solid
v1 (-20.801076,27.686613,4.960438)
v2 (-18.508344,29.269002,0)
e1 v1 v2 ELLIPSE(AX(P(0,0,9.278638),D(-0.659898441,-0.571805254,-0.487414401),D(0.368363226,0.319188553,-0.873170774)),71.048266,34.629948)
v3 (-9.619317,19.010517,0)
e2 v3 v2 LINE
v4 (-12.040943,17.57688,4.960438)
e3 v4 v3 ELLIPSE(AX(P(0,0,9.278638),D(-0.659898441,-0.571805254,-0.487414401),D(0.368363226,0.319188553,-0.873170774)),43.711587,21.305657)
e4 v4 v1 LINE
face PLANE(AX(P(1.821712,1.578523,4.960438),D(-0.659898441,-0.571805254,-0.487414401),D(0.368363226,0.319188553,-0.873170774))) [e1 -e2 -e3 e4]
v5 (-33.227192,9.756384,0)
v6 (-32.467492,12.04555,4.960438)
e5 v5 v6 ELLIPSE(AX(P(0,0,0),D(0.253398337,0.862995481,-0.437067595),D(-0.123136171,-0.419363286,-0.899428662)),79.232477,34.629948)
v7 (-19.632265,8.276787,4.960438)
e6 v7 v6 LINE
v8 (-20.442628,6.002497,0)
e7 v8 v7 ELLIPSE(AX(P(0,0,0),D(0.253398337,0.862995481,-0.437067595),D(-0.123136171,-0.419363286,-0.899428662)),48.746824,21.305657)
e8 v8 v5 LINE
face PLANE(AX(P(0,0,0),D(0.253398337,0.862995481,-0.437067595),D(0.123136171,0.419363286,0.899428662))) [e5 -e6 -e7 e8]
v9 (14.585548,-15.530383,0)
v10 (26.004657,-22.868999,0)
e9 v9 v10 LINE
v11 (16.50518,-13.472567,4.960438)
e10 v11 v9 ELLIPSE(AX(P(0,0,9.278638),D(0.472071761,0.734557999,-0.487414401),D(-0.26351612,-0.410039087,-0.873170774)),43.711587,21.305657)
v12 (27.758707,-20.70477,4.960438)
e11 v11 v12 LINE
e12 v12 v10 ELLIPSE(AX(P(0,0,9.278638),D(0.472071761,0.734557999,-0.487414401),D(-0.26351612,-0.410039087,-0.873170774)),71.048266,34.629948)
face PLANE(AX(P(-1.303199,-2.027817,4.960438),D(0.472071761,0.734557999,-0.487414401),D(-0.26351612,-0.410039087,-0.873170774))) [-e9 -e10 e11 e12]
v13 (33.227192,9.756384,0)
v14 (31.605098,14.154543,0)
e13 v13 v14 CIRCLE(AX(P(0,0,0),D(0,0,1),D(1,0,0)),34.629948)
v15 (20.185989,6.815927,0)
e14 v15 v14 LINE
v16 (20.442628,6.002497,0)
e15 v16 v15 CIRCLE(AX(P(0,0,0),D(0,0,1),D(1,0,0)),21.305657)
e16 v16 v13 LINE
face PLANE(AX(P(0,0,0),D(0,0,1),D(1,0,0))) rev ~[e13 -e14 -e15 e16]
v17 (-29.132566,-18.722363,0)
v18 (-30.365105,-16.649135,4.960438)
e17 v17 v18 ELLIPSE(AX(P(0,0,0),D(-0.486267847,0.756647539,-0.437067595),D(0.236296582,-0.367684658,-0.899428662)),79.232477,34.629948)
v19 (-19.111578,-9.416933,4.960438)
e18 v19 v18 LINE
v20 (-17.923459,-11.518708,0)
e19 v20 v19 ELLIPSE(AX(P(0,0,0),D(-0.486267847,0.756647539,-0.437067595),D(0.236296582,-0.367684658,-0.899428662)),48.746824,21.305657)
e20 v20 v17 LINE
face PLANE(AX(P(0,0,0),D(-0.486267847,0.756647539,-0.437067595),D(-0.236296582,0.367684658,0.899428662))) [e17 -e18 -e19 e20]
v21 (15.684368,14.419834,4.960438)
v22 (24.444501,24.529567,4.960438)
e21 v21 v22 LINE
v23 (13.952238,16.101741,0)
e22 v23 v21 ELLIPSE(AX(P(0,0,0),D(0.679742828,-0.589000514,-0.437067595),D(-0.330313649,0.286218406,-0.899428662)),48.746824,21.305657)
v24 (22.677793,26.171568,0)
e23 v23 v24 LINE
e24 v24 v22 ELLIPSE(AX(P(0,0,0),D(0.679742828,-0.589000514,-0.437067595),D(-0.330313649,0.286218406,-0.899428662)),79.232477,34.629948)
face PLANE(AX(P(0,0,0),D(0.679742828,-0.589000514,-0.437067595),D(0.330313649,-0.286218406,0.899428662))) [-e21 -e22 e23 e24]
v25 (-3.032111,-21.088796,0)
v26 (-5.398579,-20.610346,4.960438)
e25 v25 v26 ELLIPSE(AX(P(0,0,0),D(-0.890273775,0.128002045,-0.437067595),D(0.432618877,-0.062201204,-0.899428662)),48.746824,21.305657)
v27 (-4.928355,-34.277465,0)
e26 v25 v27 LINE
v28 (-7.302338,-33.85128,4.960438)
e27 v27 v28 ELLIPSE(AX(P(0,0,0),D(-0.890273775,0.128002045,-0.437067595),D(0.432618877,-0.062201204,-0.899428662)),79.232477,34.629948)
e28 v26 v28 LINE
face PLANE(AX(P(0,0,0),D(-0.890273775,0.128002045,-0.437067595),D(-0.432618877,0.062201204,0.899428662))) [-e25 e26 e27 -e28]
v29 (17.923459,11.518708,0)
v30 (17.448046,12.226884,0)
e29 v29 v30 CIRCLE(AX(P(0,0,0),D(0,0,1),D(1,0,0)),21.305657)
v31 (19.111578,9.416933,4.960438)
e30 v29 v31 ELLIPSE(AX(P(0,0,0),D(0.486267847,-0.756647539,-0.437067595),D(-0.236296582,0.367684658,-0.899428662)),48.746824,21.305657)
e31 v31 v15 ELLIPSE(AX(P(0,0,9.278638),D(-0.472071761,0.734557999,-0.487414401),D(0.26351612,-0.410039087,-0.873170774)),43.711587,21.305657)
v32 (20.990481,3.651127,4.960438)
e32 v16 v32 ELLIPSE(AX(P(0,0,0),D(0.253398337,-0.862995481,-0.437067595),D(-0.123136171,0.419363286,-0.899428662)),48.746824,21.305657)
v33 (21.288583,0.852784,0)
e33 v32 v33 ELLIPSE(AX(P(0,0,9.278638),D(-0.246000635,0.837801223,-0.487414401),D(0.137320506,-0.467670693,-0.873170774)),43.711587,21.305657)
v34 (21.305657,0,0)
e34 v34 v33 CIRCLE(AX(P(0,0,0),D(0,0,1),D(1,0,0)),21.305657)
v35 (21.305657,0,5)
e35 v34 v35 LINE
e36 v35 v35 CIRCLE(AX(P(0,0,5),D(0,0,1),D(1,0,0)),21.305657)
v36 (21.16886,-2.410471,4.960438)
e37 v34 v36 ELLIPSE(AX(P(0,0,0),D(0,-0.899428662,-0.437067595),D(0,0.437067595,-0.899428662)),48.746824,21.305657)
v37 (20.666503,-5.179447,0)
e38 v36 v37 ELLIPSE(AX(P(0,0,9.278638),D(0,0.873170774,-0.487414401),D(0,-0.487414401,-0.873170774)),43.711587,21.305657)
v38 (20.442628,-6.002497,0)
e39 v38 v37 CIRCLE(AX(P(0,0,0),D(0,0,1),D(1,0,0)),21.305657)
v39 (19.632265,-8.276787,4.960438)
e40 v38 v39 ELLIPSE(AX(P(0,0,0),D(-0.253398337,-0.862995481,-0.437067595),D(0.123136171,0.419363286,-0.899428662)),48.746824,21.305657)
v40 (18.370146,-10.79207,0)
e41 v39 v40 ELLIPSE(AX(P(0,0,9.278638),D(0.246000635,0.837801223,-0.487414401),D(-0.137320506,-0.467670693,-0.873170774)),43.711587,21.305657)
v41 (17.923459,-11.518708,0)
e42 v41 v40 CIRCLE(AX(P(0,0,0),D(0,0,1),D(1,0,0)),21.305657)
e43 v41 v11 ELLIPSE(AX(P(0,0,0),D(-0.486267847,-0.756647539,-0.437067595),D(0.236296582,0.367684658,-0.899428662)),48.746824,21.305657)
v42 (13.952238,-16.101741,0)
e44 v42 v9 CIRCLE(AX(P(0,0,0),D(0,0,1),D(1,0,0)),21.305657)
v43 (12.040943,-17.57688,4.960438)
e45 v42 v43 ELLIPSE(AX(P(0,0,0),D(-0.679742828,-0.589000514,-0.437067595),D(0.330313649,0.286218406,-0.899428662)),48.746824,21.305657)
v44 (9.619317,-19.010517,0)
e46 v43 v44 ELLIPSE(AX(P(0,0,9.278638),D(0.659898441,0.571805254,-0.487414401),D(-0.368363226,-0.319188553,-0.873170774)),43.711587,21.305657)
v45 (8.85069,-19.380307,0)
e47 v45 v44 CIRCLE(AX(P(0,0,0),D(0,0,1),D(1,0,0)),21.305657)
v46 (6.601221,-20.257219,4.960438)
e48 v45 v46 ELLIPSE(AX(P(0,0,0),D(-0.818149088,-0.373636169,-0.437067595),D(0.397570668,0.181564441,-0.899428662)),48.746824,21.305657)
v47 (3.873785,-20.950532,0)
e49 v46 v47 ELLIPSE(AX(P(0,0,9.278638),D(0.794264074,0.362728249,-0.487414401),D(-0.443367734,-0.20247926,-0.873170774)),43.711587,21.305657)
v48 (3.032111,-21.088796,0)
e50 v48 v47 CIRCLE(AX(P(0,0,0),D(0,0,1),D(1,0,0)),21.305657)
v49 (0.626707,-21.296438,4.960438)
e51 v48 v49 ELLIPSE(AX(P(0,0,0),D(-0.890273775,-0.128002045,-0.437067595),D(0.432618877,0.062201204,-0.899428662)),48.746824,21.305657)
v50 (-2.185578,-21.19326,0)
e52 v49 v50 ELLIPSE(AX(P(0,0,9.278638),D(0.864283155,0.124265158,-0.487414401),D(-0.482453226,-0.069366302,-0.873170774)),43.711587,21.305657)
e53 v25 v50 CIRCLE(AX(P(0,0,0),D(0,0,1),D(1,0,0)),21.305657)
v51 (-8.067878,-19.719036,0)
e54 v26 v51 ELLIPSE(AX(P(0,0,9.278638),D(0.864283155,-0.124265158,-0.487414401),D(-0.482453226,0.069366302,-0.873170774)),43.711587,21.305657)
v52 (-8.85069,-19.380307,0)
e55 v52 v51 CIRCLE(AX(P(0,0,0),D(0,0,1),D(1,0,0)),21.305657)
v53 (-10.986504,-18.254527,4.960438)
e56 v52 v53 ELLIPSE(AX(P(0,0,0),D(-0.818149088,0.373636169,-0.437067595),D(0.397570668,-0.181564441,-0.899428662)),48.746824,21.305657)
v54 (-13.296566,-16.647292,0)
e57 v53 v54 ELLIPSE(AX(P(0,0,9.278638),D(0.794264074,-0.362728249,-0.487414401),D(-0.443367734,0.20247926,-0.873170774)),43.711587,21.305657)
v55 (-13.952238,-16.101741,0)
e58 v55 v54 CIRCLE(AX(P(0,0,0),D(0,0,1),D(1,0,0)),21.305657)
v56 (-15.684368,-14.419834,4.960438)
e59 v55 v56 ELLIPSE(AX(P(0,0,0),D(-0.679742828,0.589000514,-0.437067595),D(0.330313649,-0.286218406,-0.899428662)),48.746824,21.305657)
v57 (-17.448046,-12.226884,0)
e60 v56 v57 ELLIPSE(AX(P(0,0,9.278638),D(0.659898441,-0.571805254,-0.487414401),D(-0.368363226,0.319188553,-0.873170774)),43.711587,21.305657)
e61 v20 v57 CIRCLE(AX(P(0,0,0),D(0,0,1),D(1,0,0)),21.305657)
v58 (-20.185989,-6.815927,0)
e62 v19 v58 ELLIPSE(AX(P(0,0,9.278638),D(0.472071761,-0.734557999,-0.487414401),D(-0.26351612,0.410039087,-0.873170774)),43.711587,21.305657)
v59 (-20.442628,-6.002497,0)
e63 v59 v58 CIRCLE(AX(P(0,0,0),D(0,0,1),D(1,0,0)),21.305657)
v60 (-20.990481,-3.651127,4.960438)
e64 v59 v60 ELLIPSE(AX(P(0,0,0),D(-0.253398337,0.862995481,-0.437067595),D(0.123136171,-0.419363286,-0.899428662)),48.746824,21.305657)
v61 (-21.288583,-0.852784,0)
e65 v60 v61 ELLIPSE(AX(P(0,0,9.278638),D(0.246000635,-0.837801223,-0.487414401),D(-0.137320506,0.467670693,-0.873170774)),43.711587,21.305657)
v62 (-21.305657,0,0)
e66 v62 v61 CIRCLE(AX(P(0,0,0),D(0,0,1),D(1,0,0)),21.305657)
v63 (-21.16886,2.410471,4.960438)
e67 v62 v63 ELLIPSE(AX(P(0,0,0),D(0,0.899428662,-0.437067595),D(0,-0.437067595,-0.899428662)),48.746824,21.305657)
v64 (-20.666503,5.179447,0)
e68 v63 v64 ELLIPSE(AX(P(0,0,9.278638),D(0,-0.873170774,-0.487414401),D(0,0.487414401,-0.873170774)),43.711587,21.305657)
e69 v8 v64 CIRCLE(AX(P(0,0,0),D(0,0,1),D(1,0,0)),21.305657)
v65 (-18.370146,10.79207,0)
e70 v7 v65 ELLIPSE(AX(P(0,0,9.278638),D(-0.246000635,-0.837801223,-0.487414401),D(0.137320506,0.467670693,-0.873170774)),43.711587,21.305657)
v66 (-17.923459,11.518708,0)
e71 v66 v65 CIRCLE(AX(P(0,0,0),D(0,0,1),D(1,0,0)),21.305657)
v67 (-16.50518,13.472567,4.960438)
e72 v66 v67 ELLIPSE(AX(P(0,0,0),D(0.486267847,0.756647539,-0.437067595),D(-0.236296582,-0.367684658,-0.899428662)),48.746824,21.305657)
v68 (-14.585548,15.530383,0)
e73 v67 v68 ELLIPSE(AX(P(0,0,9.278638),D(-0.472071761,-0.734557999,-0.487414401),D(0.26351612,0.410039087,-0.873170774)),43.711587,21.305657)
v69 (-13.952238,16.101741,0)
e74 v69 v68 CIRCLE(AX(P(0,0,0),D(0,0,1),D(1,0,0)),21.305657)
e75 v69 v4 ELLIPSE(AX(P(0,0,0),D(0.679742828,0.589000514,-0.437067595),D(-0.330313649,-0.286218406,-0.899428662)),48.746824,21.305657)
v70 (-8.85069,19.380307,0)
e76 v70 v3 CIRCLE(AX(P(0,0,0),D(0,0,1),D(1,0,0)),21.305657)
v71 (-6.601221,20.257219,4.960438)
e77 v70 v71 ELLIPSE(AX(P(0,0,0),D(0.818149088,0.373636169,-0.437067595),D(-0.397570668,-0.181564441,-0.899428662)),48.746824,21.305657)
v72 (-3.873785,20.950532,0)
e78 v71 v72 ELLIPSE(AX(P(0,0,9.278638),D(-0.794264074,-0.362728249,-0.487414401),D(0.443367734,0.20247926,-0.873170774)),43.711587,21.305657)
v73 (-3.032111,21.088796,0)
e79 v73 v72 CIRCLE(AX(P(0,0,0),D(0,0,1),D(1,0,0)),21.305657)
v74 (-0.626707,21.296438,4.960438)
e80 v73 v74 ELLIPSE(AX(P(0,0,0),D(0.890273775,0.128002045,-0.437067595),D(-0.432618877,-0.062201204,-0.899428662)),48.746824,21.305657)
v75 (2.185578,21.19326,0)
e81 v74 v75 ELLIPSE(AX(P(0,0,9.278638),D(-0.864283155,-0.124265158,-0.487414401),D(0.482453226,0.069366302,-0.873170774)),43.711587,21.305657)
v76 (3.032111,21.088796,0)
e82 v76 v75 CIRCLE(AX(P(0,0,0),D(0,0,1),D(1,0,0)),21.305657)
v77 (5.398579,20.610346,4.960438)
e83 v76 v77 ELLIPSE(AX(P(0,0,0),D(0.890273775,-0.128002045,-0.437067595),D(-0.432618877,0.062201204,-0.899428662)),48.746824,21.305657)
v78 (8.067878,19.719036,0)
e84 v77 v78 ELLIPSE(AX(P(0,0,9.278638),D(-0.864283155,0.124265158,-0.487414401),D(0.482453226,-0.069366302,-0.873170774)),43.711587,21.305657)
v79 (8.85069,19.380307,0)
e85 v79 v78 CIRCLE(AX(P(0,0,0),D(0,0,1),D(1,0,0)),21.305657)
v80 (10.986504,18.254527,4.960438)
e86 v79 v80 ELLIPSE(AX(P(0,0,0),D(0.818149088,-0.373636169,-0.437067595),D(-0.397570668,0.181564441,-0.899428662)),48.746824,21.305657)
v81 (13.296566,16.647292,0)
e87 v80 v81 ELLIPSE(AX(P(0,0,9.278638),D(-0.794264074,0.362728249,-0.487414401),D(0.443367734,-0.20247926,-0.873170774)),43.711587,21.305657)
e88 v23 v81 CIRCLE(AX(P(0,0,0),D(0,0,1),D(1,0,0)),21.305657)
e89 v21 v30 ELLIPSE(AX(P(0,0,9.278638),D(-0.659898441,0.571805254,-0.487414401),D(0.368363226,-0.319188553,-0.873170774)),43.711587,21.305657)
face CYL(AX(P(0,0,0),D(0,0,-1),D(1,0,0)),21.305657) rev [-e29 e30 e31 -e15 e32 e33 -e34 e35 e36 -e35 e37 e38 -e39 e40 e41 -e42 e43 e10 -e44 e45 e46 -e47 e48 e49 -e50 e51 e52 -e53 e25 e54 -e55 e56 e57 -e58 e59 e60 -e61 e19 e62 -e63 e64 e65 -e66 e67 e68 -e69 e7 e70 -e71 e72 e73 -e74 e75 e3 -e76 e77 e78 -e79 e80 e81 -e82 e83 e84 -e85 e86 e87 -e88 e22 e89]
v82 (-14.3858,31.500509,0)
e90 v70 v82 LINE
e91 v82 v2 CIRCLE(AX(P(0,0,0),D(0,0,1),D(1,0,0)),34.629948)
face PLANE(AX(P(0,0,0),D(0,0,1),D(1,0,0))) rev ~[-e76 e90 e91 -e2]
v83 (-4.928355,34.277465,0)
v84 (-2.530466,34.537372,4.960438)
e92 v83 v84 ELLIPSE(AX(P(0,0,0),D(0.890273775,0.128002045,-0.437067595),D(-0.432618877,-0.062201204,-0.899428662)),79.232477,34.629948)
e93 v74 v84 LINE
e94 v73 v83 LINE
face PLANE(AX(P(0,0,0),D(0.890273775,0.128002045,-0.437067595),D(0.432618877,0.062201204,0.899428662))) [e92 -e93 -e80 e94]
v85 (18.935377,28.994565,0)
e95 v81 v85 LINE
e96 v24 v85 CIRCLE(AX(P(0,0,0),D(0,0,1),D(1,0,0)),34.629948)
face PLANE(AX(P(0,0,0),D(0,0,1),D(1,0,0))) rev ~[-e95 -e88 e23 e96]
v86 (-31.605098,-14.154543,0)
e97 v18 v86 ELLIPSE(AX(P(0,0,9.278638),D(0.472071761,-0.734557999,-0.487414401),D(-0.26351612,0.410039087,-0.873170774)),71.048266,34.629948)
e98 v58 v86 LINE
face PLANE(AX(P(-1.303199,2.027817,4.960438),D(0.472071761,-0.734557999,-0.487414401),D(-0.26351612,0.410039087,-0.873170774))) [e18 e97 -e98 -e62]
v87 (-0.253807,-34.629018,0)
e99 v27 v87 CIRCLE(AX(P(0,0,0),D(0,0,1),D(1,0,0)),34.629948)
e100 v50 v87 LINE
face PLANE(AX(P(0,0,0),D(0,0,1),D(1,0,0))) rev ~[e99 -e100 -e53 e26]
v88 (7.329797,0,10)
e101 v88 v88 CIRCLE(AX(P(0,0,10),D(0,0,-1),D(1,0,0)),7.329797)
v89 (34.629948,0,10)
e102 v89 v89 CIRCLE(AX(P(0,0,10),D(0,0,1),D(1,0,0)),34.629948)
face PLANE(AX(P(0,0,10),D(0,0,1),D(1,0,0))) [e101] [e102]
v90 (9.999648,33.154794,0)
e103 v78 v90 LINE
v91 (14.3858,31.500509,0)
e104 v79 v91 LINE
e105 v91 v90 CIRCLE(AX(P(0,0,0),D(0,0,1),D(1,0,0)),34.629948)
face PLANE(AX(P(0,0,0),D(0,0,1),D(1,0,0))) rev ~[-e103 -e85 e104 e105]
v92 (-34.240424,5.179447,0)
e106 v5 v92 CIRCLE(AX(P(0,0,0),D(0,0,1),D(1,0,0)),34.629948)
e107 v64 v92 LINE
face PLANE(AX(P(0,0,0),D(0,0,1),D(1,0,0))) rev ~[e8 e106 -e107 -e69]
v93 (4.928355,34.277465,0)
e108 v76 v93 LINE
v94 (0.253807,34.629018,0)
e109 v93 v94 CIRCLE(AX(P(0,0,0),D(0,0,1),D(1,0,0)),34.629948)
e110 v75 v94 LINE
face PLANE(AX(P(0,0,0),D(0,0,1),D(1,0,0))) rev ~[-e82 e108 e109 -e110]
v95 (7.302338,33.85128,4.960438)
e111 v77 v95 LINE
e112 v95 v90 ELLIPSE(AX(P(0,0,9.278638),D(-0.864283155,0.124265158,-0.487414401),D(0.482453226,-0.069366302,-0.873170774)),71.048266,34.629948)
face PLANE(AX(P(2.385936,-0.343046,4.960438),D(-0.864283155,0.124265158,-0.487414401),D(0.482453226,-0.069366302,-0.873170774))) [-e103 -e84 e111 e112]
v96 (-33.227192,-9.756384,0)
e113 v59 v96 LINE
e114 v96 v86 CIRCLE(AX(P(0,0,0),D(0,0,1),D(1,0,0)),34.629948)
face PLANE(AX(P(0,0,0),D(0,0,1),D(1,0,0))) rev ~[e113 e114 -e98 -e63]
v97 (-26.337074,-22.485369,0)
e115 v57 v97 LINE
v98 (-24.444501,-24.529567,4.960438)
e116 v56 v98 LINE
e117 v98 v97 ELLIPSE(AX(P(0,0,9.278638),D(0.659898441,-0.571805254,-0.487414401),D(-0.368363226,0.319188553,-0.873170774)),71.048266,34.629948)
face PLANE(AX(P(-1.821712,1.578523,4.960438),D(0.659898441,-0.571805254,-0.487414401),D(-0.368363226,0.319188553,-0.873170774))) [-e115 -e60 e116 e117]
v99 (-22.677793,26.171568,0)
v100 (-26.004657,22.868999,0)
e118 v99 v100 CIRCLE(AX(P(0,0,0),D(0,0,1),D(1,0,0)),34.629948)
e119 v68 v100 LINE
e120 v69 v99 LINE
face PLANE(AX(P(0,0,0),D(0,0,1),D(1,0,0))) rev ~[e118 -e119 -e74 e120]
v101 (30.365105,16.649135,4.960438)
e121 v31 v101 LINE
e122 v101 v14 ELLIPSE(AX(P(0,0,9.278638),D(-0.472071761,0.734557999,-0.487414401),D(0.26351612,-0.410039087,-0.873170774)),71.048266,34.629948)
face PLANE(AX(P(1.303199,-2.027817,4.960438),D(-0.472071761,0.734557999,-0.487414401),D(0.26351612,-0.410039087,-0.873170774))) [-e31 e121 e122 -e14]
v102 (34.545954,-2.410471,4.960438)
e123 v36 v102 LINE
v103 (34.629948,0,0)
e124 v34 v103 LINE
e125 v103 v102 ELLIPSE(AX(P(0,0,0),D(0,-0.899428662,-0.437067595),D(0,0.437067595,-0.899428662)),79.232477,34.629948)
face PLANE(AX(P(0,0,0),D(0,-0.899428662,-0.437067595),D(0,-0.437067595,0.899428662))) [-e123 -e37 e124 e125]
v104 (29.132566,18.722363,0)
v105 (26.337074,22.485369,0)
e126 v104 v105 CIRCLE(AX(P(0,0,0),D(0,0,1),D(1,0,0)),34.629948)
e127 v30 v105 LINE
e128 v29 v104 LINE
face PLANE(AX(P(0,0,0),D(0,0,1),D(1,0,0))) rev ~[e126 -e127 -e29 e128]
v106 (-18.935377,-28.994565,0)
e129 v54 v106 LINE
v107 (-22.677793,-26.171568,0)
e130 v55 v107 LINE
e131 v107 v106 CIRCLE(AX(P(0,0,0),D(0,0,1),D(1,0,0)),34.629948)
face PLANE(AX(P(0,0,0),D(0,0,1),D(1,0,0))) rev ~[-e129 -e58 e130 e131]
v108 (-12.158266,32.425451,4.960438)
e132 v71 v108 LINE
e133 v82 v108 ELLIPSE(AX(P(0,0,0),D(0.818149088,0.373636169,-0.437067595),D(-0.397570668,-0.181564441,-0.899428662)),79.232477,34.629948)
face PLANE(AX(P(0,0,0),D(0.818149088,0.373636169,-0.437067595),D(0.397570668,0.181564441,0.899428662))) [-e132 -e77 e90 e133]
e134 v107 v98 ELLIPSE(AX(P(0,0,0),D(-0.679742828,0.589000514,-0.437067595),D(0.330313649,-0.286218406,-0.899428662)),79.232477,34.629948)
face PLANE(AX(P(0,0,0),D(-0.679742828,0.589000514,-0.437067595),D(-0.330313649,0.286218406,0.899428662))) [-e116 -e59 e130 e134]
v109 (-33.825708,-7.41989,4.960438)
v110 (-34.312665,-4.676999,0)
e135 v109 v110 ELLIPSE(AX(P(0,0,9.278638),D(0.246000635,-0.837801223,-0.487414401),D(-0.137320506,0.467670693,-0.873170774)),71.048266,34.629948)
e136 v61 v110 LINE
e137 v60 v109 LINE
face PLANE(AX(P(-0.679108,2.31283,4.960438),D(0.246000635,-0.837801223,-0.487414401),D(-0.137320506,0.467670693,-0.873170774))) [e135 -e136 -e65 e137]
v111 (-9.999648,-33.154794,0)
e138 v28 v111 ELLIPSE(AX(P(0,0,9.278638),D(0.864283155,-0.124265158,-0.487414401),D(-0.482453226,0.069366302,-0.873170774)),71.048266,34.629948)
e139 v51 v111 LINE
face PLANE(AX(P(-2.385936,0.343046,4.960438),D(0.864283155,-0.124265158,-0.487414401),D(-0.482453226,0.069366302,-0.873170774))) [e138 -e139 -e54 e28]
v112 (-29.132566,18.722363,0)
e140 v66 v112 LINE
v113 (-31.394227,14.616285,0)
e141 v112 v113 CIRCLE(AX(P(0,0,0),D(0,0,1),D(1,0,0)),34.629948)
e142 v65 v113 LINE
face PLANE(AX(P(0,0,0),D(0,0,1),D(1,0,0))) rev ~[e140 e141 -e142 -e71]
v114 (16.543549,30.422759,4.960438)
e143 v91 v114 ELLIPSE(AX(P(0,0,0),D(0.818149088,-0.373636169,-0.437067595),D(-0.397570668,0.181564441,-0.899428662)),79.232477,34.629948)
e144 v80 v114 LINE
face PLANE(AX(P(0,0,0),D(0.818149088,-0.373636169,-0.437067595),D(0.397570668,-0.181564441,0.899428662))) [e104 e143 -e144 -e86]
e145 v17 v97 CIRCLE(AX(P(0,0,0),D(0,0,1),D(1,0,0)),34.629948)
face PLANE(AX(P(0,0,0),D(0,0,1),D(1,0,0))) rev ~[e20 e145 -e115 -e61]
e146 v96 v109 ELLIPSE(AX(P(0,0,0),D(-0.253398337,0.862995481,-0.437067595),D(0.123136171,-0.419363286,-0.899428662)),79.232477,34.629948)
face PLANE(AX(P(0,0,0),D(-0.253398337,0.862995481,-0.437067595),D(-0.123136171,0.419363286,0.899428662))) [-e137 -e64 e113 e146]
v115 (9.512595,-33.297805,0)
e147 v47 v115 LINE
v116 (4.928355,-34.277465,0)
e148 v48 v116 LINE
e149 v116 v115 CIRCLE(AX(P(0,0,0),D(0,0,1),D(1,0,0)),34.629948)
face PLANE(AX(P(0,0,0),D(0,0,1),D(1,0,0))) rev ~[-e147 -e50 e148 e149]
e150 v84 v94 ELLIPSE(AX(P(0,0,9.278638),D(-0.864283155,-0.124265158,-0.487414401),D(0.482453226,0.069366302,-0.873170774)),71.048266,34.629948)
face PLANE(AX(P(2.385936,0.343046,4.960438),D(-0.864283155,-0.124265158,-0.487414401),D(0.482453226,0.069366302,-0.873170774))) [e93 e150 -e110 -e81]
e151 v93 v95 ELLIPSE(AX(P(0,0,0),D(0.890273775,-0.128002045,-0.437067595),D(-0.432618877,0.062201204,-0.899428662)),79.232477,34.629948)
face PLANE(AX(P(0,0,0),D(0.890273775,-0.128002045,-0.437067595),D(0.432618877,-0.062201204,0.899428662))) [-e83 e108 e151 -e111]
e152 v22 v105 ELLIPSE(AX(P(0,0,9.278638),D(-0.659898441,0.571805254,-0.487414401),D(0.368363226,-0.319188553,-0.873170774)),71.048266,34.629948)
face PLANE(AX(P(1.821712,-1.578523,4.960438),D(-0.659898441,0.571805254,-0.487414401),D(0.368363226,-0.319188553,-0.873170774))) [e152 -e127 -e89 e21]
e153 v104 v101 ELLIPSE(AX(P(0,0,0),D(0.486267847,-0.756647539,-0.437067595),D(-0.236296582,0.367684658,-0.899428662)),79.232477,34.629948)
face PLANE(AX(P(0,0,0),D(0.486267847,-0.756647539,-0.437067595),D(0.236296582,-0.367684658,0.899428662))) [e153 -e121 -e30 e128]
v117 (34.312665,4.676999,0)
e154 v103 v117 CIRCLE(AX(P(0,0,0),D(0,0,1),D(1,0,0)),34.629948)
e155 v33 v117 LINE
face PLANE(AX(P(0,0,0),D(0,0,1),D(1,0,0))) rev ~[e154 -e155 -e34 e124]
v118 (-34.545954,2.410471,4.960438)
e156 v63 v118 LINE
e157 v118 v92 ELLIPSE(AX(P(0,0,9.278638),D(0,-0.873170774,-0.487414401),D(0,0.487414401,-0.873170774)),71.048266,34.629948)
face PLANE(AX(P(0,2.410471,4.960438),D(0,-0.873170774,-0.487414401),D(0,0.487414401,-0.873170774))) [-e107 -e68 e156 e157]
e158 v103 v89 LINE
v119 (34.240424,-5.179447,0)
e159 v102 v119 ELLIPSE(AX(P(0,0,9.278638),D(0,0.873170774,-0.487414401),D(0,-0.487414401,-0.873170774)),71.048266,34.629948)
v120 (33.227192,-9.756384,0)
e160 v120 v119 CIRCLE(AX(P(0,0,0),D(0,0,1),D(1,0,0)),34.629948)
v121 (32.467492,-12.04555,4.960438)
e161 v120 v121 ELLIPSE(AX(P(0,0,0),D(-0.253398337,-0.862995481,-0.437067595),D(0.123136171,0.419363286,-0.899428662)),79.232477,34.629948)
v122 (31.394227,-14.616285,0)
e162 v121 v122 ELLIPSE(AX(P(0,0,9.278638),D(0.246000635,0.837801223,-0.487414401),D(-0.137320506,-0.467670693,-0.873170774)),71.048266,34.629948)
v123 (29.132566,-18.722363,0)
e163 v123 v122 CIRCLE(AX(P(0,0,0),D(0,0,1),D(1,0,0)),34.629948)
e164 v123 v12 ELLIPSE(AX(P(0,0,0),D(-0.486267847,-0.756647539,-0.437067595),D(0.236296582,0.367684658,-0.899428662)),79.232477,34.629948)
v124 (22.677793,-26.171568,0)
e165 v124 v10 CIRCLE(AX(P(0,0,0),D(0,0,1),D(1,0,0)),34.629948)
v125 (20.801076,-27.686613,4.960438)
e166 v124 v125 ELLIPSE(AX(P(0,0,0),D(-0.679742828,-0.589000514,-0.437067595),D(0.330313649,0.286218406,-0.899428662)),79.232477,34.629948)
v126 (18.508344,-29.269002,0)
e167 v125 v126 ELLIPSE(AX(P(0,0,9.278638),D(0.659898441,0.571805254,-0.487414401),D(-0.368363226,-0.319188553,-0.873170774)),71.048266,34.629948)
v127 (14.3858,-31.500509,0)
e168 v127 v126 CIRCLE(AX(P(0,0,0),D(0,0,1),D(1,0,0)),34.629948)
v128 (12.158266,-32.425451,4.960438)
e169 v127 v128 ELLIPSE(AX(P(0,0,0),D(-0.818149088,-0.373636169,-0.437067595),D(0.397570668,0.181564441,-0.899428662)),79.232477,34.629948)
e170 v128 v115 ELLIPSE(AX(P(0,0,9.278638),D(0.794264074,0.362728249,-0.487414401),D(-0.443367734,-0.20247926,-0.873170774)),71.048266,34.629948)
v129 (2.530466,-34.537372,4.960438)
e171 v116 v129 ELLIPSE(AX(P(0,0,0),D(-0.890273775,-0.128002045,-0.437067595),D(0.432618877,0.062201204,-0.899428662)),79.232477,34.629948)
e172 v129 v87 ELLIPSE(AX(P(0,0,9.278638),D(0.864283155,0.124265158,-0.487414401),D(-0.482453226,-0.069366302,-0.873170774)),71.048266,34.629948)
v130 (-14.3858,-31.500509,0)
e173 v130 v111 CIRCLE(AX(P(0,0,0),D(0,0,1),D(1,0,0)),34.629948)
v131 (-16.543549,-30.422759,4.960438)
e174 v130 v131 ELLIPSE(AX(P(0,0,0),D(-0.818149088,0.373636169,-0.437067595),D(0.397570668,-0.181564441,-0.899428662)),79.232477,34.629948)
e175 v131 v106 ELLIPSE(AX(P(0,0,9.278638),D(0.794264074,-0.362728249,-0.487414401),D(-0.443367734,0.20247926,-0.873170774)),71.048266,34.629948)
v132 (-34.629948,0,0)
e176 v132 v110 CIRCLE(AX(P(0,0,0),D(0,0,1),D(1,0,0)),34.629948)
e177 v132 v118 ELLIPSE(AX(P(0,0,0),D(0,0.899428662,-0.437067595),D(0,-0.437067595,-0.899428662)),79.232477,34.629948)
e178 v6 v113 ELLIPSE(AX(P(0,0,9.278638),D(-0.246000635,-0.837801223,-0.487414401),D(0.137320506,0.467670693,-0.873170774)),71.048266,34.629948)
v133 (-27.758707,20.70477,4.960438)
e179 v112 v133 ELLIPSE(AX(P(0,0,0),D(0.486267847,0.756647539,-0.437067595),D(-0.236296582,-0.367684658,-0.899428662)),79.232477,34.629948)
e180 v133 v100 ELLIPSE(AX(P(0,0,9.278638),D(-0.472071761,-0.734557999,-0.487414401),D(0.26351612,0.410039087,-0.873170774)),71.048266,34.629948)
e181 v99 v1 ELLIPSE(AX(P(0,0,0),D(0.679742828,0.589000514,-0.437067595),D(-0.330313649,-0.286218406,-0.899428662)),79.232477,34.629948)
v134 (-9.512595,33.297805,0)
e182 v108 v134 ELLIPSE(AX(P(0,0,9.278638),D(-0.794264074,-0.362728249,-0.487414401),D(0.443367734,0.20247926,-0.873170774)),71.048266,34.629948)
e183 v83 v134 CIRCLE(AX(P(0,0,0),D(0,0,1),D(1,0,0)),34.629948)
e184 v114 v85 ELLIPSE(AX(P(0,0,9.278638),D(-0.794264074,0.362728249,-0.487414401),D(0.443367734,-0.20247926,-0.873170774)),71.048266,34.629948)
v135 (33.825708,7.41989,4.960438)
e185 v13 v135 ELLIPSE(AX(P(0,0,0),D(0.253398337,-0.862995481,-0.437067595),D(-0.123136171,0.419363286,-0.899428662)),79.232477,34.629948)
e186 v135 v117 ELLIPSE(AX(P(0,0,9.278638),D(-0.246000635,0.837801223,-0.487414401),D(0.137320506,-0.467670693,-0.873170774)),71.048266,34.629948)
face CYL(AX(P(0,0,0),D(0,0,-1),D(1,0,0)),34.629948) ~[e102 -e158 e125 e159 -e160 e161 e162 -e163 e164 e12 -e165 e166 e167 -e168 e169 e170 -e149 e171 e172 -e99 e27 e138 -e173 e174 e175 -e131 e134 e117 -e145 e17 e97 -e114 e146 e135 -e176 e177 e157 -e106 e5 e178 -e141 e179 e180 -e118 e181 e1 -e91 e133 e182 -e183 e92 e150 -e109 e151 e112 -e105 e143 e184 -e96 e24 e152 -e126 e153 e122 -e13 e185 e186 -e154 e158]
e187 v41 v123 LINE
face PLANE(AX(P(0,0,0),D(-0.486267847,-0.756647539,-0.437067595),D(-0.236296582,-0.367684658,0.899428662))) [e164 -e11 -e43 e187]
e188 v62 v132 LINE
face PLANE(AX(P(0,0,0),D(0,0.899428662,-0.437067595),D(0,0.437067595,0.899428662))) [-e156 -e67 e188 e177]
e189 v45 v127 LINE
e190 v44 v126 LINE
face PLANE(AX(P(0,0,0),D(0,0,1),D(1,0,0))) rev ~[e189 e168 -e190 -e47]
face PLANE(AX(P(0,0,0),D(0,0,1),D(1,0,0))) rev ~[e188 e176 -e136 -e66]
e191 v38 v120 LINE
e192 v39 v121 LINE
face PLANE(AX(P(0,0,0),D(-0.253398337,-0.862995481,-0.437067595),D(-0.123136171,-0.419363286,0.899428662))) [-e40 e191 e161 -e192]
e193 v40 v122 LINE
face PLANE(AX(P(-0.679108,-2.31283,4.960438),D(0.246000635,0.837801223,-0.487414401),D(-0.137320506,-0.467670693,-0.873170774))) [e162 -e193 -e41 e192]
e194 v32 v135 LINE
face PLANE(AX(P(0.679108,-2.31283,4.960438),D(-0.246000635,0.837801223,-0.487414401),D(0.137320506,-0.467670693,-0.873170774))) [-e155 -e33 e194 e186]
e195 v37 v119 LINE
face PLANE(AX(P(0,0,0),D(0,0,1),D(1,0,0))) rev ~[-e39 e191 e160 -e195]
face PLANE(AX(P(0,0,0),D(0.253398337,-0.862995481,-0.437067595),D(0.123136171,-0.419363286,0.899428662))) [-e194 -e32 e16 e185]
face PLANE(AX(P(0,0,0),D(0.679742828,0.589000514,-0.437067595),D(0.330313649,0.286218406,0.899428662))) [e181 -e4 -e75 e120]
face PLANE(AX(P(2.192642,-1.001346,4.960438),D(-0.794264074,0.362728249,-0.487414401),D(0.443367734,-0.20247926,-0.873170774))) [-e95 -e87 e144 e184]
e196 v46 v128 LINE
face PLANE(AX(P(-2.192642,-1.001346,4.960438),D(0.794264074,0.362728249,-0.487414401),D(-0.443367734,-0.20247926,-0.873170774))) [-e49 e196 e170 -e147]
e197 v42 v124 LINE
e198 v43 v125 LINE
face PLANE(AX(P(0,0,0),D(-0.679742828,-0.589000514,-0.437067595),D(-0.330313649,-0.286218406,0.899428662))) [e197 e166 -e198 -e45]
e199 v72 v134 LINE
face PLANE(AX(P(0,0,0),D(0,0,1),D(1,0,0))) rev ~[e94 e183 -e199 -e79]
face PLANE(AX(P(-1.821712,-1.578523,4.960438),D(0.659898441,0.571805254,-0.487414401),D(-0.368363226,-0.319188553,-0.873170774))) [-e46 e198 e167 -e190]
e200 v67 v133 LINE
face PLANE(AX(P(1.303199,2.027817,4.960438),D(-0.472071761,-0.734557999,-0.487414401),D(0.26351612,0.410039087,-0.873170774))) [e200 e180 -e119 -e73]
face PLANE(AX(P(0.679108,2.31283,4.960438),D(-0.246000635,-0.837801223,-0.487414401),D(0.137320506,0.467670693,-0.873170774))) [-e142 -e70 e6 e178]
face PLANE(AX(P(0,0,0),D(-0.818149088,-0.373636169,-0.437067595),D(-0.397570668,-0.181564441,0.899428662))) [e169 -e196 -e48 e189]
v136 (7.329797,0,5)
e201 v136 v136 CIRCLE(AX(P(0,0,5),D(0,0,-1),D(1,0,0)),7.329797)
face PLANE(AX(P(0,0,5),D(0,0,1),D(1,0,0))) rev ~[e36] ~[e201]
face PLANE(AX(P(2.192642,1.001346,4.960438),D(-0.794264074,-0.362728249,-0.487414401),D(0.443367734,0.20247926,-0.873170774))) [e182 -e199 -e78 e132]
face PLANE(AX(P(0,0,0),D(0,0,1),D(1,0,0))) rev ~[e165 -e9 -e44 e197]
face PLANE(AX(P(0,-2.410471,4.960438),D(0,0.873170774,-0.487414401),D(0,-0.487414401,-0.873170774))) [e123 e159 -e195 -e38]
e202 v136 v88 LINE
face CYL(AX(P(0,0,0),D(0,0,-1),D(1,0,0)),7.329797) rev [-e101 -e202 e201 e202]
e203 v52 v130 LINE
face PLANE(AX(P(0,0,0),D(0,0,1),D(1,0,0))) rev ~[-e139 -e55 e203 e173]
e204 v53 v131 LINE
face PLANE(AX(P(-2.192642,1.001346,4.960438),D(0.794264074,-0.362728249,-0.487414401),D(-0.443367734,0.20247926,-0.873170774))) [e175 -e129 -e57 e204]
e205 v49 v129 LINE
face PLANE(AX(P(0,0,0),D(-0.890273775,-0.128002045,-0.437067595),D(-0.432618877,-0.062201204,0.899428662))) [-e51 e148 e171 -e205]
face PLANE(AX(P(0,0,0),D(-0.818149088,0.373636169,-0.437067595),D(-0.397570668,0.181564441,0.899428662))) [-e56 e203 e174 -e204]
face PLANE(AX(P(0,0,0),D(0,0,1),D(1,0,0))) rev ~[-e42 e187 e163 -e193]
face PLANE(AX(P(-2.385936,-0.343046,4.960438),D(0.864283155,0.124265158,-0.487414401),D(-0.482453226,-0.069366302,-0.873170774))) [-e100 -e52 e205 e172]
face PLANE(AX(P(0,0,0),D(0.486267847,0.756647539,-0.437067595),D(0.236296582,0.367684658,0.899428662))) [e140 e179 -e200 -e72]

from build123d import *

# Parameters (mm, degrees)
SKETCH003_R        = 34.629948
PAD001_DEPTH       = 10
SKETCH004_R        = 21.305657
POCKET_DEPTH       = 5
SKETCH005_R        = 7.329797
POCKET001_DEPTH    = 11
POCKET002_DEPTH    = 38
POLARPATTERN_COUNT = 22


with BuildPart() as part:
    # Sketch003 → Pad001 (new body)
    with BuildSketch(Plane.XY):
        Circle(SKETCH003_R)
    extrude(amount=PAD001_DEPTH)

    # Sketch004 → Pocket (cut)
    with BuildSketch(Plane.XY):
        Circle(SKETCH004_R)
    extrude(amount=POCKET_DEPTH, mode=Mode.SUBTRACT)

    # Sketch005 → Pocket001 (cut)
    with BuildSketch(Plane.XY):
        Circle(SKETCH005_R)
    extrude(amount=POCKET001_DEPTH, mode=Mode.SUBTRACT)

    # Sketch006 → Pocket002 (cut)
    with BuildSketch(Plane.YZ):
        Polygon((0, 0), (2.410471, 4.960438), (5.179447, 0), align=None)
    pocket002 = extrude(amount=-POCKET002_DEPTH, mode=Mode.SUBTRACT)

    # PolarPattern: Pocket002 ×22 about axis
    polarpattern_axis = Axis((0, 0, 0), (0, 0, 1))
    for i in range(1, POLARPATTERN_COUNT):
        add(pocket002.rotate(polarpattern_axis, i * 360 / POLARPATTERN_COUNT), mode=Mode.SUBTRACT)


solid = part.part
